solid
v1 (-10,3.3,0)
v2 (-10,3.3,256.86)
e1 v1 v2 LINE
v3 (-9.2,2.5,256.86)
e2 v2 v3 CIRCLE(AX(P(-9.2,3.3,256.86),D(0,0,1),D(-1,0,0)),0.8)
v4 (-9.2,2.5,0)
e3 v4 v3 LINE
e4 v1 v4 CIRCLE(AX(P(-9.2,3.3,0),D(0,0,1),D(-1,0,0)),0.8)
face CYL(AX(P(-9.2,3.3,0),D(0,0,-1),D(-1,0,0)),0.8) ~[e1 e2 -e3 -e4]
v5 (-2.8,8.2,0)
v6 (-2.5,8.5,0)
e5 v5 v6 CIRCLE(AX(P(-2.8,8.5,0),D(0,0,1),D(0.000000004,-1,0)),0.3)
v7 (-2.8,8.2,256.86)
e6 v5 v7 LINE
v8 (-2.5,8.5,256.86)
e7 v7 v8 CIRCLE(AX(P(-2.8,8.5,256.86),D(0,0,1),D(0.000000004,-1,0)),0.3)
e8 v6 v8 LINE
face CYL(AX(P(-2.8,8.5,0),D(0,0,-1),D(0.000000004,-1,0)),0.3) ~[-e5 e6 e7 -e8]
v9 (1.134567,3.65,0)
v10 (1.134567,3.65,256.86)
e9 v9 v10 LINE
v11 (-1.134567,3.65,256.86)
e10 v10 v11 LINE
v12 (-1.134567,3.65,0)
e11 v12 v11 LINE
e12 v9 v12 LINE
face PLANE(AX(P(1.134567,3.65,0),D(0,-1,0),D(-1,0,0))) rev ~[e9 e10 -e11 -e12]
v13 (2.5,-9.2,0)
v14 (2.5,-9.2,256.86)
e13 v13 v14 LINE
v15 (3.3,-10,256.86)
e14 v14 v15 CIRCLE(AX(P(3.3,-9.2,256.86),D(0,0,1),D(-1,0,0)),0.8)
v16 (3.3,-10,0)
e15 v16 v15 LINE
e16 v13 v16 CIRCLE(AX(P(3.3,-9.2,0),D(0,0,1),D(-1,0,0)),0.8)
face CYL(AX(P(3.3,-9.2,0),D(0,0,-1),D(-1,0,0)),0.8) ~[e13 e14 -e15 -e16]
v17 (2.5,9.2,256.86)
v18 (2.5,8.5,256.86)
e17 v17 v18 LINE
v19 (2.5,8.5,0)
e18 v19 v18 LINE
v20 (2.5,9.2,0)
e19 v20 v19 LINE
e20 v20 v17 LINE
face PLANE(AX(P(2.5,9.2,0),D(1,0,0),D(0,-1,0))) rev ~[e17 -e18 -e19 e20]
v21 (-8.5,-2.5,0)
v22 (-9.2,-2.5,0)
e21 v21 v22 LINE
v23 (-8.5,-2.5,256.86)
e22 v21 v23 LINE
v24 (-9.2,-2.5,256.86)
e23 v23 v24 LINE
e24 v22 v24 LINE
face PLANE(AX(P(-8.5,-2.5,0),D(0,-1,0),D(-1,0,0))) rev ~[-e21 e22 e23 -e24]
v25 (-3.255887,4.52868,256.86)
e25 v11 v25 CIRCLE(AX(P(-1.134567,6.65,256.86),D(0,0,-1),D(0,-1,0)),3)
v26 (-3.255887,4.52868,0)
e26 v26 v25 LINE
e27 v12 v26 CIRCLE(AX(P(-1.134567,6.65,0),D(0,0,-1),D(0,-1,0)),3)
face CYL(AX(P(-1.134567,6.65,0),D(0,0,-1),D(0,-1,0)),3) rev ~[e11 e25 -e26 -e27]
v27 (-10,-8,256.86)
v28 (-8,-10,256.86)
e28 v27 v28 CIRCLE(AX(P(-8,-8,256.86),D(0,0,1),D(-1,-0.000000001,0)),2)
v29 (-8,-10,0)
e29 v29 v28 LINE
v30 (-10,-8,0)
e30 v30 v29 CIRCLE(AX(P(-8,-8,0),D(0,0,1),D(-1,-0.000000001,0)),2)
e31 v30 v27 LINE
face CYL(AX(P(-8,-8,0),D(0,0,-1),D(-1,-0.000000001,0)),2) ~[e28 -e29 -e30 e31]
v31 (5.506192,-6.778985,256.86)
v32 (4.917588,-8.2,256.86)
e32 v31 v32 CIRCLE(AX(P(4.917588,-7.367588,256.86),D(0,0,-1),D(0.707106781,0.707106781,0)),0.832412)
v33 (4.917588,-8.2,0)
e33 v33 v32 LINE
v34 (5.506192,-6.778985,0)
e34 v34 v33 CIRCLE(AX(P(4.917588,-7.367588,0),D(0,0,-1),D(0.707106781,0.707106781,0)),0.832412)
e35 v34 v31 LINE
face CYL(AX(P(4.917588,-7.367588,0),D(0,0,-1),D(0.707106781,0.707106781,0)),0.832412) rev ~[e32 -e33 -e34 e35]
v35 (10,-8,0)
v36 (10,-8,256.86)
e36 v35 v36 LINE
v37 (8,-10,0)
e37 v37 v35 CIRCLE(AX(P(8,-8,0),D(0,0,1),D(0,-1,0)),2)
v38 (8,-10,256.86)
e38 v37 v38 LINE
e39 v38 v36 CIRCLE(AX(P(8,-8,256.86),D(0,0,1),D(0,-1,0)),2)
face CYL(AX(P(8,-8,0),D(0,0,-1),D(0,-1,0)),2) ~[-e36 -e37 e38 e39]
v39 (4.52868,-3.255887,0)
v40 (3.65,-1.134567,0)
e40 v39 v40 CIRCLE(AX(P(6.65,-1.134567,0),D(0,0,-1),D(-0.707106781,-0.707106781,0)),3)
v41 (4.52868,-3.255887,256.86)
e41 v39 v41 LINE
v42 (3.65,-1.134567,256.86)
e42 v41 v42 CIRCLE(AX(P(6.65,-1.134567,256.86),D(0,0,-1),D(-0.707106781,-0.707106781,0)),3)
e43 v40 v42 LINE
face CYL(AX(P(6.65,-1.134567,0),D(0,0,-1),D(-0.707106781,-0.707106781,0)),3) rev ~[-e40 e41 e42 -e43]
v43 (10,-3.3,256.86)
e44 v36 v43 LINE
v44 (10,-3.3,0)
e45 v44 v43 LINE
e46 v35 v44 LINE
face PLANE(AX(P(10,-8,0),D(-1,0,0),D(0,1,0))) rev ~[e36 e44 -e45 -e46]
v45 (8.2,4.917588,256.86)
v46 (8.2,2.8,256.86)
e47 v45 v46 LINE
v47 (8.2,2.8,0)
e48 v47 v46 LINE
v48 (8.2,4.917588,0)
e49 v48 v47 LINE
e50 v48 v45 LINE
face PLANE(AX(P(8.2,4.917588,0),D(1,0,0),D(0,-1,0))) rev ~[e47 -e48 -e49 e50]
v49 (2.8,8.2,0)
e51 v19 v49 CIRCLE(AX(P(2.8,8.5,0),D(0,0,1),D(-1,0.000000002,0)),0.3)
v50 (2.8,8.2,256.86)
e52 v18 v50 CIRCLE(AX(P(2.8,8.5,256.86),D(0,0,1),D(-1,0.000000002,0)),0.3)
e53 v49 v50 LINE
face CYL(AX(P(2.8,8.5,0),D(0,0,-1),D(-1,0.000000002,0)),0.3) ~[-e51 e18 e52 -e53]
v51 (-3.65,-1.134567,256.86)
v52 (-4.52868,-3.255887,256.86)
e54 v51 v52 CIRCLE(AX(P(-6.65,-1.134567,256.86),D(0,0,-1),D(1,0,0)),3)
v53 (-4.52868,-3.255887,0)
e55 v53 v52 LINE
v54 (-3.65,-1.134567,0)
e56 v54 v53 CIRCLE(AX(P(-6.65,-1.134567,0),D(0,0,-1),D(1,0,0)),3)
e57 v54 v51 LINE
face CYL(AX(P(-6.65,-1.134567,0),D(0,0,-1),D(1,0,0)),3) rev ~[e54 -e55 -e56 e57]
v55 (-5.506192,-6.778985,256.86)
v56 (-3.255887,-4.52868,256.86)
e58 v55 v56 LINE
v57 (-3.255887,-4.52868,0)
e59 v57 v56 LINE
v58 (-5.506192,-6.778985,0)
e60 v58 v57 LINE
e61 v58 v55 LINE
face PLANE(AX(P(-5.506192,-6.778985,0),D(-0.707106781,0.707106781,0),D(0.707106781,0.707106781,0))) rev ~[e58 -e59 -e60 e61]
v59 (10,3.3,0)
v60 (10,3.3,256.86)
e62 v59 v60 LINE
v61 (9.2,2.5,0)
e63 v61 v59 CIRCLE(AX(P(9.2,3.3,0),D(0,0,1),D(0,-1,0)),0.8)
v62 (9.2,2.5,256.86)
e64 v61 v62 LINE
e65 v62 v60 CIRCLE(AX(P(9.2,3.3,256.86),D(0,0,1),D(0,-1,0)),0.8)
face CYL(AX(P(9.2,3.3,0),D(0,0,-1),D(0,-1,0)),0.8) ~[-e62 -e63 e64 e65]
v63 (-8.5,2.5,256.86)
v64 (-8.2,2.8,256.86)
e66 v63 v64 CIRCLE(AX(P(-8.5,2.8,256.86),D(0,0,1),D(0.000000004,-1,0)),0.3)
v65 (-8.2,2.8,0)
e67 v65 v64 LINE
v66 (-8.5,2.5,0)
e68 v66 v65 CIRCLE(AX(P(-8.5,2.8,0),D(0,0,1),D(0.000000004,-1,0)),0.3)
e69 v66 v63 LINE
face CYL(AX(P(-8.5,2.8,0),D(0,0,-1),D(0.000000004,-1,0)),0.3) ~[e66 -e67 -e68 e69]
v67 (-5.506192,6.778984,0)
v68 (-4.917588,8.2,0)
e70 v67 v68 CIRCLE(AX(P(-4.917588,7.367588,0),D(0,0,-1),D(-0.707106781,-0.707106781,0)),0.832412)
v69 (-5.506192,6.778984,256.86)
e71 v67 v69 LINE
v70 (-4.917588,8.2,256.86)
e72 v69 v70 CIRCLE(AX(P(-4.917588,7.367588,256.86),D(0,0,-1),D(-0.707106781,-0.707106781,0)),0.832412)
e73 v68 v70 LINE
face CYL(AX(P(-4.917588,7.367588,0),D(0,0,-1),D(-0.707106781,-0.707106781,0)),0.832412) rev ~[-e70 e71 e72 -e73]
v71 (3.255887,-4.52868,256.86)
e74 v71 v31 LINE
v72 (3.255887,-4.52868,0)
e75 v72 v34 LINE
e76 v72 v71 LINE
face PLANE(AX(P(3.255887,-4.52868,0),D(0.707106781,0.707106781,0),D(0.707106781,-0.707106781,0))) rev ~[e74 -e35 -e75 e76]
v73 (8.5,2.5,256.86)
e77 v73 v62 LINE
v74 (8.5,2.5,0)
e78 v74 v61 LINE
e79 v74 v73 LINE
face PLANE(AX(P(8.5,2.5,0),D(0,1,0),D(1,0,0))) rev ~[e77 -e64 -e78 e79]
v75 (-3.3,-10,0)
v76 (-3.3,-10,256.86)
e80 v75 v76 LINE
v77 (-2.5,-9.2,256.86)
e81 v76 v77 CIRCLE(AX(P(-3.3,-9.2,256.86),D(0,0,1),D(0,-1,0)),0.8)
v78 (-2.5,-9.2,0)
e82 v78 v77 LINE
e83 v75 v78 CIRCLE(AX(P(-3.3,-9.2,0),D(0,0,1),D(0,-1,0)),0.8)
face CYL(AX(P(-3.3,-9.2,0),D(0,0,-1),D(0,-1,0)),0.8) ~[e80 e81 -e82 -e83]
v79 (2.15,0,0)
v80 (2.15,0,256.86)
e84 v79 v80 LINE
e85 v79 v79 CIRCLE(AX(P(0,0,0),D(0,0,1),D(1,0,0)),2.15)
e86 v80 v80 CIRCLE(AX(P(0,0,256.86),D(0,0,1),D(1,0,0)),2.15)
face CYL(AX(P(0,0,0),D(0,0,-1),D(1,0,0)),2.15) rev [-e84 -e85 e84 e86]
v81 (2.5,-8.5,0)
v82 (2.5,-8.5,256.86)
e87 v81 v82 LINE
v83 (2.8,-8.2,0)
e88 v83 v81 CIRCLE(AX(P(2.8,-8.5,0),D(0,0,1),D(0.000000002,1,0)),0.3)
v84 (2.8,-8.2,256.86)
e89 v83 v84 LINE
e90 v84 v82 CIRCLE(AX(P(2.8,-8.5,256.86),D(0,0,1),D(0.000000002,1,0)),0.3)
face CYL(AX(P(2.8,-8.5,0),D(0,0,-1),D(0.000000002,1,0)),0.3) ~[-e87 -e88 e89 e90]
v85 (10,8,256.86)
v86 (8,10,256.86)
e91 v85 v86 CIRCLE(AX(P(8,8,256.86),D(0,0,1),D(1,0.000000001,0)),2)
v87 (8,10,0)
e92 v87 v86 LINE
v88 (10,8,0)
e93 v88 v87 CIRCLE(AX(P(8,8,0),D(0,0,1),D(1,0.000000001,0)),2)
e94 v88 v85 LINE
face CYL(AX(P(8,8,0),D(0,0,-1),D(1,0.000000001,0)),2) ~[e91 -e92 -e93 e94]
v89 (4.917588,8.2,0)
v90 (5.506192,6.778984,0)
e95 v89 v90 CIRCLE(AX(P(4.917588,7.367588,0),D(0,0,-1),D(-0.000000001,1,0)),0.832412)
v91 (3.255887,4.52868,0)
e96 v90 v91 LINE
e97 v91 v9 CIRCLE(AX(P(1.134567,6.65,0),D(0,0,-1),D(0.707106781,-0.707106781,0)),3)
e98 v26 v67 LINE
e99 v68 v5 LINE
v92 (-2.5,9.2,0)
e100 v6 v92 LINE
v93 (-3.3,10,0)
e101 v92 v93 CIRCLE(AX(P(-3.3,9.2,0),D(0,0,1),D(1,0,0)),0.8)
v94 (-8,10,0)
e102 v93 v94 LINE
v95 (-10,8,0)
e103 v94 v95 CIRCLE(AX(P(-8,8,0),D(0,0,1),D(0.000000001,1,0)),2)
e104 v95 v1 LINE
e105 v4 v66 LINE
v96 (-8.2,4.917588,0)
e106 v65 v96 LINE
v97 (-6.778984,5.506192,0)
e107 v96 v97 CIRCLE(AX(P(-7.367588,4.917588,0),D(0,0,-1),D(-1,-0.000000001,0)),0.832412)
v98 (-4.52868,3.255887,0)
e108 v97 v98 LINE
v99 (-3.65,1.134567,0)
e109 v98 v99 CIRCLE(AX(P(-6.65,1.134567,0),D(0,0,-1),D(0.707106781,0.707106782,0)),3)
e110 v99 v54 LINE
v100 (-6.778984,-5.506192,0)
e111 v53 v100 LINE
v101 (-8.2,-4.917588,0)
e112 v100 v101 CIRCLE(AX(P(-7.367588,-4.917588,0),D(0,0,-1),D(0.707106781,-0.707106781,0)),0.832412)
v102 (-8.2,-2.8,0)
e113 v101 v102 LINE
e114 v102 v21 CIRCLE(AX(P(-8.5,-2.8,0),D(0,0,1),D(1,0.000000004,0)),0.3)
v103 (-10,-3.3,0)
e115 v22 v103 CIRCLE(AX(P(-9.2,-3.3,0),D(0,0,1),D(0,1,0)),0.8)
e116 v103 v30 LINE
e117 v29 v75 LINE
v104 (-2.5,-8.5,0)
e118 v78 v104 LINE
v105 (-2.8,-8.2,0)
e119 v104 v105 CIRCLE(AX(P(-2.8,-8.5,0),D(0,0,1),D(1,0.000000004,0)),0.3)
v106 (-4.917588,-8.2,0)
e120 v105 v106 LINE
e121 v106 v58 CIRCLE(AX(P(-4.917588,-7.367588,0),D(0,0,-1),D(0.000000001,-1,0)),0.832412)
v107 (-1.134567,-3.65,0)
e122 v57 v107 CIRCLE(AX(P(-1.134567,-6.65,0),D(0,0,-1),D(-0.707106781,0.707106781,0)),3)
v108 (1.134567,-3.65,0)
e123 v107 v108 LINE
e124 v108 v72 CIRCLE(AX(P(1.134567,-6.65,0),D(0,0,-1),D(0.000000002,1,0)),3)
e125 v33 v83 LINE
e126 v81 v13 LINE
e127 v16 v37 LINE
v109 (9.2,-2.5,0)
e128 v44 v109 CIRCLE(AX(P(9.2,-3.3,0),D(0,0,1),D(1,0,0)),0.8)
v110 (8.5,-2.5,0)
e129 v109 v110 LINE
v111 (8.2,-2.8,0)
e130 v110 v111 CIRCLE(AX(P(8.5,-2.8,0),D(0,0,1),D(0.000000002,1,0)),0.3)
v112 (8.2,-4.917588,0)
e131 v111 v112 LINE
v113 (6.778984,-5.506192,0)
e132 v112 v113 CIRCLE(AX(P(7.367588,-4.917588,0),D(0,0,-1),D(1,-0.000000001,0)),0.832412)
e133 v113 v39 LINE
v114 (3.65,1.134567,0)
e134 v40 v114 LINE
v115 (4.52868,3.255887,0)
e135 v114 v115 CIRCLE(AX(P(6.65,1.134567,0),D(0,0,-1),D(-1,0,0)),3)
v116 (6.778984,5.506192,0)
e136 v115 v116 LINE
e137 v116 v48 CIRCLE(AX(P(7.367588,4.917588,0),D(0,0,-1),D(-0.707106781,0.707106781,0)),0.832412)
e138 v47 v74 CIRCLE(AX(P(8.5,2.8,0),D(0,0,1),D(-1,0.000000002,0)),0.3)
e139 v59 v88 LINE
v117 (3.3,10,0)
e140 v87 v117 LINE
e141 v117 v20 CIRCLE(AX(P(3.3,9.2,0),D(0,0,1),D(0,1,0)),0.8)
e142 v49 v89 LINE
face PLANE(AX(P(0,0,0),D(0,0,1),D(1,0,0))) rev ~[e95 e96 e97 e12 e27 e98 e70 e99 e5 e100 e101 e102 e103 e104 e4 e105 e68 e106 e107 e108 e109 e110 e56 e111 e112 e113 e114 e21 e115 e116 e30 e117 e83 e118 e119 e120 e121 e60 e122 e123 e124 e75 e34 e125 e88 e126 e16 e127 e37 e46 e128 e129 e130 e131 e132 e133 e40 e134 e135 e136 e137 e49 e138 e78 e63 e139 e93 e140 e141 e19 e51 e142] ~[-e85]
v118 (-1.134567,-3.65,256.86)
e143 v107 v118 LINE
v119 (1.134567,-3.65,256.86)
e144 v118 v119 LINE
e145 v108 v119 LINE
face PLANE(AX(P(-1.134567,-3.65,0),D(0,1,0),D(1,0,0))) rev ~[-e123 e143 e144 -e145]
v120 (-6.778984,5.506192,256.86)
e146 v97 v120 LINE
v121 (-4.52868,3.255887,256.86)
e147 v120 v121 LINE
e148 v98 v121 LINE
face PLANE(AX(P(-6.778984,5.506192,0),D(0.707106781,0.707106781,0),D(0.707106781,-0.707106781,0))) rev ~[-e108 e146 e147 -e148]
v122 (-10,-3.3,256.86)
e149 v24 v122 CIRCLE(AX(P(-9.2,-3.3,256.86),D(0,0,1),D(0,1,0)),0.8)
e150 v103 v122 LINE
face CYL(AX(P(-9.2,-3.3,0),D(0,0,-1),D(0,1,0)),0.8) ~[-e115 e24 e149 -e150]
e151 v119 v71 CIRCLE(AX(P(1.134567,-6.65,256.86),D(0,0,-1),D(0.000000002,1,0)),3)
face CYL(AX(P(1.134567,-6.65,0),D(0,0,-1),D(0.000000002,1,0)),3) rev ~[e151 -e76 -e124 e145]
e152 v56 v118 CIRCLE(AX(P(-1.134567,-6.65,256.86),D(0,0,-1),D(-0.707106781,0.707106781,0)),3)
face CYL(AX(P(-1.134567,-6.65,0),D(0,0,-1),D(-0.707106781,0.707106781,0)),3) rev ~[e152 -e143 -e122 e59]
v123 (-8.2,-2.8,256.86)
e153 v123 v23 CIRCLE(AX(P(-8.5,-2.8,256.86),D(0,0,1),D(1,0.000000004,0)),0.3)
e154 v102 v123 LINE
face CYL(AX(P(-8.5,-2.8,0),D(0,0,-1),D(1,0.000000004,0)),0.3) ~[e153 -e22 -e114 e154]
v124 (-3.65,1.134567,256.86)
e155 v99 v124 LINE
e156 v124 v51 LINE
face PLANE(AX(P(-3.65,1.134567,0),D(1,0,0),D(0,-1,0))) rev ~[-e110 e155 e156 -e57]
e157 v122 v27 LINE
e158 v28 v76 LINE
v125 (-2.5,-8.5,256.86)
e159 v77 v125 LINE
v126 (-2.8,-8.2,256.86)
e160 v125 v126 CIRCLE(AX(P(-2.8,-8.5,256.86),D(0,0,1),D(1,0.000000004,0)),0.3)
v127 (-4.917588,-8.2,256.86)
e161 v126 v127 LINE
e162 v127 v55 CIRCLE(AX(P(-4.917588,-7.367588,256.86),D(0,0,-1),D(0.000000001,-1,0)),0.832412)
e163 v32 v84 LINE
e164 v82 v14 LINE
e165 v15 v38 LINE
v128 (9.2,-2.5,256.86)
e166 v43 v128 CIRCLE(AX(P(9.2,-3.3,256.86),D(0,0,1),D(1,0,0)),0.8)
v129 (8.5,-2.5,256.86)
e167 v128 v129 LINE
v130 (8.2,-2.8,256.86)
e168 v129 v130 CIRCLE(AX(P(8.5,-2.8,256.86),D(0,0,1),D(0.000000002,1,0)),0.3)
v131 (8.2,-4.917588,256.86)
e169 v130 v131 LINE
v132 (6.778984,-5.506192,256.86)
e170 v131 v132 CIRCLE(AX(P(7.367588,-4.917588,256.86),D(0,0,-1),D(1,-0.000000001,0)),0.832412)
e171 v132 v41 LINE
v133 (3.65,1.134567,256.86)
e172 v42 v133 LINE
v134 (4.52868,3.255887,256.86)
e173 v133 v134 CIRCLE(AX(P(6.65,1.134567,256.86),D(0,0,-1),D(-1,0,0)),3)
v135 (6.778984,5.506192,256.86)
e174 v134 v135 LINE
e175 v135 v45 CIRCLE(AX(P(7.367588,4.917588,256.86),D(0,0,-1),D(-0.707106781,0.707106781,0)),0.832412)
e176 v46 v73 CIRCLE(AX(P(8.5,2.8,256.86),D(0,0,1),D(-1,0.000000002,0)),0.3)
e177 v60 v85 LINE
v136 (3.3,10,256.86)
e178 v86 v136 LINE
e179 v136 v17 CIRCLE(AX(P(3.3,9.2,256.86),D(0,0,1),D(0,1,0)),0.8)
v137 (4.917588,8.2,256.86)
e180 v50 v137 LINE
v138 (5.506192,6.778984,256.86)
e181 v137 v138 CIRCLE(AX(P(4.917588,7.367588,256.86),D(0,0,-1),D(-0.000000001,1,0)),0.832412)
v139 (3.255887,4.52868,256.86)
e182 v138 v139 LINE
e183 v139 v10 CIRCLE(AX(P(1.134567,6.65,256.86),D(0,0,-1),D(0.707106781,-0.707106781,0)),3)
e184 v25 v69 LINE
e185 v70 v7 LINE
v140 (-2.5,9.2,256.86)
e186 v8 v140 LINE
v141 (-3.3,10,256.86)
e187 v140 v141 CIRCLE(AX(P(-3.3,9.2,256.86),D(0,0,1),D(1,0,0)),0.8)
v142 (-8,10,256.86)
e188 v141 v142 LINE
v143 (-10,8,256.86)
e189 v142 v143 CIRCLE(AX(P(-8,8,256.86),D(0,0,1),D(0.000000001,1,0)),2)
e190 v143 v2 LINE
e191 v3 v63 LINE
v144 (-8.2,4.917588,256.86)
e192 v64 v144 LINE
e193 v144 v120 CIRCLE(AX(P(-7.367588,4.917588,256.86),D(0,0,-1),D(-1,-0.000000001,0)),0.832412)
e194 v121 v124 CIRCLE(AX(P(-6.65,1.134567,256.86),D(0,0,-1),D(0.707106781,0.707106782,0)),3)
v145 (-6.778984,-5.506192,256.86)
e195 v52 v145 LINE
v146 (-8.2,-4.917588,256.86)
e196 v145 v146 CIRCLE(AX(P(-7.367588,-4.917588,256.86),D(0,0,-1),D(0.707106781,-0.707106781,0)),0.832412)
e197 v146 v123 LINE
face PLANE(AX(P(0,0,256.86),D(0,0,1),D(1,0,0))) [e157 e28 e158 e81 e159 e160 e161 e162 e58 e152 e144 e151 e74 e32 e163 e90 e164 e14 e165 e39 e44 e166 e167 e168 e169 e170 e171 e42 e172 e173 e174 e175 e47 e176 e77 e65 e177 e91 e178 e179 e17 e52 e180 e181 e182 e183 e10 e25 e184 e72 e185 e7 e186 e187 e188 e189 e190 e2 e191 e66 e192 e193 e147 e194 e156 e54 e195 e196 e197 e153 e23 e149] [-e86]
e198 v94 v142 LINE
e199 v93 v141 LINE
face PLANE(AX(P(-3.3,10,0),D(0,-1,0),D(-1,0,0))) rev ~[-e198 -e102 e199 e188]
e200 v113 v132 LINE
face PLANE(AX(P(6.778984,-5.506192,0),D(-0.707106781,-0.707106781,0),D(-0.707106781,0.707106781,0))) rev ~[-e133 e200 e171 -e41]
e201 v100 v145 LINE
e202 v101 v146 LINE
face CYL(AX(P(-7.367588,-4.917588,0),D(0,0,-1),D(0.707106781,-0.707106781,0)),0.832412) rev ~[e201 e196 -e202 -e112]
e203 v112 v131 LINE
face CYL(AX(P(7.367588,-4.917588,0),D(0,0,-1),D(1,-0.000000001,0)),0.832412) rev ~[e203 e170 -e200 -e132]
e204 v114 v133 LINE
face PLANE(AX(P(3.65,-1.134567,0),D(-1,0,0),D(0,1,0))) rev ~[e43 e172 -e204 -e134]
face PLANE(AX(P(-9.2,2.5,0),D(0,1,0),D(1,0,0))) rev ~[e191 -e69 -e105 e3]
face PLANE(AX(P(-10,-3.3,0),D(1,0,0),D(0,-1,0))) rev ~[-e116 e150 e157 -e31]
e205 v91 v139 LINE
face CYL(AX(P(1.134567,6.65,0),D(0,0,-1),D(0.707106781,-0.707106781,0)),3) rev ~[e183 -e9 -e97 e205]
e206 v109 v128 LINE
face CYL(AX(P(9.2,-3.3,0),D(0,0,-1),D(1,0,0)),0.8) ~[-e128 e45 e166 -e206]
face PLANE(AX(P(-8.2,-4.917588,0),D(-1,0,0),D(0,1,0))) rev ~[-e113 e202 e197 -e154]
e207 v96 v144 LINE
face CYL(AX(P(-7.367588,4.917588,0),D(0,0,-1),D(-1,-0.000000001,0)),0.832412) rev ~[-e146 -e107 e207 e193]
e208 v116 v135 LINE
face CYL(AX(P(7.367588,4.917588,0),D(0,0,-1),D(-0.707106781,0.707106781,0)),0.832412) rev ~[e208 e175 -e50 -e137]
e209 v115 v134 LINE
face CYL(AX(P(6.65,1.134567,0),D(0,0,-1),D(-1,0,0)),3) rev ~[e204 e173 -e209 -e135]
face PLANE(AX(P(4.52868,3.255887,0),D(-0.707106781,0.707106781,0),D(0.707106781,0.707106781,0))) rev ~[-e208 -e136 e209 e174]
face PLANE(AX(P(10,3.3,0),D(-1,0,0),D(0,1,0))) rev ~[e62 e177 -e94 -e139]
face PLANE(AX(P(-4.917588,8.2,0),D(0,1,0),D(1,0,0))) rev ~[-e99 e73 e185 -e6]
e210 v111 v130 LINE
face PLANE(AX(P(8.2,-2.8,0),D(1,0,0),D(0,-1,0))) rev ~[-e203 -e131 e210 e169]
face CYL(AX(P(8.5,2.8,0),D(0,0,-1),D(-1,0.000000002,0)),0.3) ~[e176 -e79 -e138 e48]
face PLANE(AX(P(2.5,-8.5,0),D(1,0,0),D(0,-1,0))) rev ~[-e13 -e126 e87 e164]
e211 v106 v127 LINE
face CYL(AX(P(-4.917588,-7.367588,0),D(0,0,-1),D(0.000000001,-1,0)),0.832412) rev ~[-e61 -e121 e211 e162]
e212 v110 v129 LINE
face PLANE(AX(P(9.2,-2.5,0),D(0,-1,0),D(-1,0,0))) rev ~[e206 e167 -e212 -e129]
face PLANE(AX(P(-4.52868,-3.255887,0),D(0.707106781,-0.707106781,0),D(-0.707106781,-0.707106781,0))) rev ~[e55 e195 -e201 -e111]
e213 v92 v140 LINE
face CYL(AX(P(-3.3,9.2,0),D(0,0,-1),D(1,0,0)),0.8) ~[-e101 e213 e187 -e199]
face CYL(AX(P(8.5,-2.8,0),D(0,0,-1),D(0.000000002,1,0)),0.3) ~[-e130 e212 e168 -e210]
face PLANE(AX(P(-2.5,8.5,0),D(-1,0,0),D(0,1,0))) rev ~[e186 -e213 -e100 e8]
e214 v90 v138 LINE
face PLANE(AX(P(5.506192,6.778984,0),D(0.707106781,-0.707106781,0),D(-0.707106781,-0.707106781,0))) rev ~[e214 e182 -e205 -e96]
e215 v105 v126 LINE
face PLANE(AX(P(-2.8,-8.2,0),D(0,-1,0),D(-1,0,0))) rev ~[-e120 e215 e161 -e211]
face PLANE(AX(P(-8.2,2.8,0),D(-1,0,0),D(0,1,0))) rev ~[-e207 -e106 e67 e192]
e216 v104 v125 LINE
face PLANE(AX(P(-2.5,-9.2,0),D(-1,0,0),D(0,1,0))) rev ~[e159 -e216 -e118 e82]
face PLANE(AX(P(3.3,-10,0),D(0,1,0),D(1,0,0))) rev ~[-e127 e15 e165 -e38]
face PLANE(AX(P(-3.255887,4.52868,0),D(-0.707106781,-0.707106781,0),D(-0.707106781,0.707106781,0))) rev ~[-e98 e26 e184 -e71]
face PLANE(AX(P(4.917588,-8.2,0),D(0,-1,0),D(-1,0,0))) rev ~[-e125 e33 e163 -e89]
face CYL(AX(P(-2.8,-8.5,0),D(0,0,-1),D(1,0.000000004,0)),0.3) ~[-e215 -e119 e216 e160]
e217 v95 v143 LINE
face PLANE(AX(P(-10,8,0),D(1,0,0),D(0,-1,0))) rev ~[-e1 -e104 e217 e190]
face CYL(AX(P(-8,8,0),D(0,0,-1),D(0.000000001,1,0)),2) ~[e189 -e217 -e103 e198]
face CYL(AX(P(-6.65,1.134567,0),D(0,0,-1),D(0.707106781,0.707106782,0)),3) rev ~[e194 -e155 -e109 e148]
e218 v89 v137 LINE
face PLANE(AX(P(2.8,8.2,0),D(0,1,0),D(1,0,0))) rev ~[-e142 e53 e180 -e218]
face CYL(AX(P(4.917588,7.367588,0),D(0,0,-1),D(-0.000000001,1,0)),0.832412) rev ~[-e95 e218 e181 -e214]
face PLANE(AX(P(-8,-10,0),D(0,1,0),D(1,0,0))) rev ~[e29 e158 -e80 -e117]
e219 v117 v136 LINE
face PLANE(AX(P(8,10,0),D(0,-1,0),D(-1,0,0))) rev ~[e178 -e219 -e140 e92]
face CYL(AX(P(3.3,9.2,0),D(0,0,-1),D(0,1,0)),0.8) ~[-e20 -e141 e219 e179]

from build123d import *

# Parameters (mm, degrees)
BOSS_EXTRU_1_DEPTH = 256.86


with BuildPart() as part:
    # Esquisse1 → Boss.-Extru.1 (new body)
    with BuildSketch(Plane.XY):
        with BuildLine():
            Line((-3.255887446, 4.528679645), (-5.506192286, 6.778984485))
            ThreePointArc((-5.506192286, 6.778984485), (-5.686636441, 7.686138511), (-4.917588391, 8.199999989))
            Line((-4.917588391, 8.199999989), (-2.799999991, 8.199999989))
            ThreePointArc((-2.799999991, 8.199999989), (-2.587867957, 8.287867955), (-2.499999991, 8.499999989))
            Line((-2.499999991, 8.499999989), (-2.499999991, 9.199999989))
            ThreePointArc((-2.499999991, 9.199999989), (-2.734314566, 9.765685414), (-3.299999991, 9.999999989))
            Line((-3.299999991, 9.999999989), (-7.999999991, 9.999999989))
            ThreePointArc((-7.999999991, 9.999999989), (-9.414213554, 9.414213552), (-9.999999991, 7.999999989))
            Line((-9.999999991, 7.999999989), (-9.999999991, 3.299999989))
            ThreePointArc((-9.999999991, 3.299999989), (-9.765685416, 2.734314564), (-9.199999991, 2.499999989))
            Line((-9.199999991, 2.499999989), (-8.499999991, 2.499999989))
            ThreePointArc((-8.499999991, 2.499999989), (-8.287867957, 2.587867955), (-8.199999991, 2.799999989))
            Line((-8.199999991, 2.799999989), (-8.199999991, 4.917588389))
            ThreePointArc((-8.199999991, 4.917588389), (-7.686138517, 5.686636433), (-6.778984497, 5.506192279))
            Line((-6.778984497, 5.506192279), (-4.528679657, 3.255887439))
            ThreePointArc((-4.528679657, 3.255887439), (-3.878361403, 2.282617393), (-3.650000001, 1.134567096))
            Line((-3.650000001, 1.134567096), (-3.650000001, -1.134567114))
            ThreePointArc((-3.650000001, -1.134567114), (-3.878361403, -2.282617409), (-4.528679656, -3.255887454))
            Line((-4.528679656, -3.255887454), (-6.778984496, -5.506192294))
            ThreePointArc((-6.778984496, -5.506192294), (-7.686138522, -5.686636449), (-8.2, -4.9175884))
            Line((-8.2, -4.9175884), (-8.2, -2.8))
            ThreePointArc((-8.2, -2.8), (-8.287867966, -2.587867966), (-8.5, -2.5))
            Line((-8.5, -2.5), (-9.2, -2.5))
            ThreePointArc((-9.2, -2.5), (-9.765685425, -2.734314575), (-10, -3.3))
            Line((-10, -3.3), (-10, -8))
            ThreePointArc((-10, -8), (-9.414213562, -9.414213562), (-8, -10))
            Line((-8, -10), (-3.3, -10))
            ThreePointArc((-3.3, -10), (-2.734314575, -9.765685425), (-2.5, -9.2))
            Line((-2.5, -9.2), (-2.5, -8.5))
            ThreePointArc((-2.5, -8.5), (-2.587867966, -8.287867966), (-2.8, -8.2))
            Line((-2.8, -8.2), (-4.9175884, -8.2))
            ThreePointArc((-4.9175884, -8.2), (-5.686636444, -7.686138526), (-5.50619229, -6.778984506))
            Line((-5.50619229, -6.778984506), (-3.25588745, -4.528679666))
            ThreePointArc((-3.25588745, -4.528679666), (-2.282617404, -3.878361412), (-1.134567106, -3.650000009))
            Line((-1.134567106, -3.650000009), (1.134567104, -3.650000009))
            ThreePointArc((1.134567104, -3.650000009), (2.282617399, -3.878361412), (3.255887444, -4.528679664))
            Line((3.255887444, -4.528679664), (5.506192284, -6.778984504))
            ThreePointArc((5.506192284, -6.778984504), (5.686636439, -7.686138531), (4.917588389, -8.200000009))
            Line((4.917588389, -8.200000009), (2.799999989, -8.200000009))
            ThreePointArc((2.799999989, -8.200000009), (2.587867955, -8.287867974), (2.499999989, -8.500000009))
            Line((2.499999989, -8.500000009), (2.499999989, -9.200000009))
            ThreePointArc((2.499999989, -9.200000009), (2.734314564, -9.765685434), (3.299999989, -10.000000009))
            Line((3.299999989, -10.000000009), (7.999999989, -10.000000009))
            ThreePointArc((7.999999989, -10.000000009), (9.414213552, -9.414213571), (9.999999989, -8.000000009))
            Line((9.999999989, -8.000000009), (9.999999989, -3.300000009))
            ThreePointArc((9.999999989, -3.300000009), (9.765685414, -2.734314584), (9.199999989, -2.500000009))
            Line((9.199999989, -2.500000009), (8.499999989, -2.500000009))
            ThreePointArc((8.499999989, -2.500000009), (8.287867955, -2.587867974), (8.199999989, -2.800000009))
            Line((8.199999989, -2.800000009), (8.199999989, -4.917588409))
            ThreePointArc((8.199999989, -4.917588409), (7.686138515, -5.686636452), (6.778984495, -5.506192299))
            Line((6.778984495, -5.506192299), (4.528679655, -3.255887459))
            ThreePointArc((4.528679655, -3.255887459), (3.878361401, -2.282617412), (3.649999999, -1.134567115))
            Line((3.649999999, -1.134567115), (3.649999999, 1.134567095))
            ThreePointArc((3.649999999, 1.134567095), (3.878361401, 2.28261739), (4.528679654, 3.255887435))
            Line((4.528679654, 3.255887435), (6.778984494, 5.506192275))
            ThreePointArc((6.778984494, 5.506192275), (7.68613852, 5.68663643), (8.199999998, 4.917588381))
            Line((8.199999998, 4.917588381), (8.199999998, 2.799999981))
            ThreePointArc((8.199999998, 2.799999981), (8.287867964, 2.587867946), (8.499999998, 2.499999981))
            Line((8.499999998, 2.499999981), (9.199999998, 2.499999981))
            ThreePointArc((9.199999998, 2.499999981), (9.765685423, 2.734314556), (9.999999998, 3.299999981))
            Line((9.999999998, 3.299999981), (9.999999998, 7.999999981))
            ThreePointArc((9.999999998, 7.999999981), (9.41421356, 9.414213543), (7.999999998, 9.999999981))
            Line((7.999999998, 9.999999981), (3.299999998, 9.999999981))
            ThreePointArc((3.299999998, 9.999999981), (2.734314573, 9.765685406), (2.499999998, 9.199999981))
            Line((2.499999998, 9.199999981), (2.499999998, 8.499999981))
            ThreePointArc((2.499999998, 8.499999981), (2.587867964, 8.287867946), (2.799999998, 8.199999981))
            Line((2.799999998, 8.199999981), (4.917588398, 8.199999981))
            ThreePointArc((4.917588398, 8.199999981), (5.686636442, 7.686138507), (5.506192288, 6.778984487))
            Line((5.506192288, 6.778984487), (3.255887448, 4.528679647))
            ThreePointArc((3.255887448, 4.528679647), (2.282617402, 3.878361393), (1.134567104, 3.64999999))
            Line((1.134567104, 3.64999999), (-1.134567106, 3.64999999))
            ThreePointArc((-1.134567106, 3.64999999), (-2.282617401, 3.878361392), (-3.255887446, 4.528679645))
        make_face()
        with BuildLine():
            ThreePointArc((-2.15, 0), (0, -2.15), (2.15, 0))
            ThreePointArc((2.15, 0), (0, 2.15), (-2.15, 0))
        make_face(mode=Mode.SUBTRACT)
    extrude(amount=BOSS_EXTRU_1_DEPTH)


solid = part.part
